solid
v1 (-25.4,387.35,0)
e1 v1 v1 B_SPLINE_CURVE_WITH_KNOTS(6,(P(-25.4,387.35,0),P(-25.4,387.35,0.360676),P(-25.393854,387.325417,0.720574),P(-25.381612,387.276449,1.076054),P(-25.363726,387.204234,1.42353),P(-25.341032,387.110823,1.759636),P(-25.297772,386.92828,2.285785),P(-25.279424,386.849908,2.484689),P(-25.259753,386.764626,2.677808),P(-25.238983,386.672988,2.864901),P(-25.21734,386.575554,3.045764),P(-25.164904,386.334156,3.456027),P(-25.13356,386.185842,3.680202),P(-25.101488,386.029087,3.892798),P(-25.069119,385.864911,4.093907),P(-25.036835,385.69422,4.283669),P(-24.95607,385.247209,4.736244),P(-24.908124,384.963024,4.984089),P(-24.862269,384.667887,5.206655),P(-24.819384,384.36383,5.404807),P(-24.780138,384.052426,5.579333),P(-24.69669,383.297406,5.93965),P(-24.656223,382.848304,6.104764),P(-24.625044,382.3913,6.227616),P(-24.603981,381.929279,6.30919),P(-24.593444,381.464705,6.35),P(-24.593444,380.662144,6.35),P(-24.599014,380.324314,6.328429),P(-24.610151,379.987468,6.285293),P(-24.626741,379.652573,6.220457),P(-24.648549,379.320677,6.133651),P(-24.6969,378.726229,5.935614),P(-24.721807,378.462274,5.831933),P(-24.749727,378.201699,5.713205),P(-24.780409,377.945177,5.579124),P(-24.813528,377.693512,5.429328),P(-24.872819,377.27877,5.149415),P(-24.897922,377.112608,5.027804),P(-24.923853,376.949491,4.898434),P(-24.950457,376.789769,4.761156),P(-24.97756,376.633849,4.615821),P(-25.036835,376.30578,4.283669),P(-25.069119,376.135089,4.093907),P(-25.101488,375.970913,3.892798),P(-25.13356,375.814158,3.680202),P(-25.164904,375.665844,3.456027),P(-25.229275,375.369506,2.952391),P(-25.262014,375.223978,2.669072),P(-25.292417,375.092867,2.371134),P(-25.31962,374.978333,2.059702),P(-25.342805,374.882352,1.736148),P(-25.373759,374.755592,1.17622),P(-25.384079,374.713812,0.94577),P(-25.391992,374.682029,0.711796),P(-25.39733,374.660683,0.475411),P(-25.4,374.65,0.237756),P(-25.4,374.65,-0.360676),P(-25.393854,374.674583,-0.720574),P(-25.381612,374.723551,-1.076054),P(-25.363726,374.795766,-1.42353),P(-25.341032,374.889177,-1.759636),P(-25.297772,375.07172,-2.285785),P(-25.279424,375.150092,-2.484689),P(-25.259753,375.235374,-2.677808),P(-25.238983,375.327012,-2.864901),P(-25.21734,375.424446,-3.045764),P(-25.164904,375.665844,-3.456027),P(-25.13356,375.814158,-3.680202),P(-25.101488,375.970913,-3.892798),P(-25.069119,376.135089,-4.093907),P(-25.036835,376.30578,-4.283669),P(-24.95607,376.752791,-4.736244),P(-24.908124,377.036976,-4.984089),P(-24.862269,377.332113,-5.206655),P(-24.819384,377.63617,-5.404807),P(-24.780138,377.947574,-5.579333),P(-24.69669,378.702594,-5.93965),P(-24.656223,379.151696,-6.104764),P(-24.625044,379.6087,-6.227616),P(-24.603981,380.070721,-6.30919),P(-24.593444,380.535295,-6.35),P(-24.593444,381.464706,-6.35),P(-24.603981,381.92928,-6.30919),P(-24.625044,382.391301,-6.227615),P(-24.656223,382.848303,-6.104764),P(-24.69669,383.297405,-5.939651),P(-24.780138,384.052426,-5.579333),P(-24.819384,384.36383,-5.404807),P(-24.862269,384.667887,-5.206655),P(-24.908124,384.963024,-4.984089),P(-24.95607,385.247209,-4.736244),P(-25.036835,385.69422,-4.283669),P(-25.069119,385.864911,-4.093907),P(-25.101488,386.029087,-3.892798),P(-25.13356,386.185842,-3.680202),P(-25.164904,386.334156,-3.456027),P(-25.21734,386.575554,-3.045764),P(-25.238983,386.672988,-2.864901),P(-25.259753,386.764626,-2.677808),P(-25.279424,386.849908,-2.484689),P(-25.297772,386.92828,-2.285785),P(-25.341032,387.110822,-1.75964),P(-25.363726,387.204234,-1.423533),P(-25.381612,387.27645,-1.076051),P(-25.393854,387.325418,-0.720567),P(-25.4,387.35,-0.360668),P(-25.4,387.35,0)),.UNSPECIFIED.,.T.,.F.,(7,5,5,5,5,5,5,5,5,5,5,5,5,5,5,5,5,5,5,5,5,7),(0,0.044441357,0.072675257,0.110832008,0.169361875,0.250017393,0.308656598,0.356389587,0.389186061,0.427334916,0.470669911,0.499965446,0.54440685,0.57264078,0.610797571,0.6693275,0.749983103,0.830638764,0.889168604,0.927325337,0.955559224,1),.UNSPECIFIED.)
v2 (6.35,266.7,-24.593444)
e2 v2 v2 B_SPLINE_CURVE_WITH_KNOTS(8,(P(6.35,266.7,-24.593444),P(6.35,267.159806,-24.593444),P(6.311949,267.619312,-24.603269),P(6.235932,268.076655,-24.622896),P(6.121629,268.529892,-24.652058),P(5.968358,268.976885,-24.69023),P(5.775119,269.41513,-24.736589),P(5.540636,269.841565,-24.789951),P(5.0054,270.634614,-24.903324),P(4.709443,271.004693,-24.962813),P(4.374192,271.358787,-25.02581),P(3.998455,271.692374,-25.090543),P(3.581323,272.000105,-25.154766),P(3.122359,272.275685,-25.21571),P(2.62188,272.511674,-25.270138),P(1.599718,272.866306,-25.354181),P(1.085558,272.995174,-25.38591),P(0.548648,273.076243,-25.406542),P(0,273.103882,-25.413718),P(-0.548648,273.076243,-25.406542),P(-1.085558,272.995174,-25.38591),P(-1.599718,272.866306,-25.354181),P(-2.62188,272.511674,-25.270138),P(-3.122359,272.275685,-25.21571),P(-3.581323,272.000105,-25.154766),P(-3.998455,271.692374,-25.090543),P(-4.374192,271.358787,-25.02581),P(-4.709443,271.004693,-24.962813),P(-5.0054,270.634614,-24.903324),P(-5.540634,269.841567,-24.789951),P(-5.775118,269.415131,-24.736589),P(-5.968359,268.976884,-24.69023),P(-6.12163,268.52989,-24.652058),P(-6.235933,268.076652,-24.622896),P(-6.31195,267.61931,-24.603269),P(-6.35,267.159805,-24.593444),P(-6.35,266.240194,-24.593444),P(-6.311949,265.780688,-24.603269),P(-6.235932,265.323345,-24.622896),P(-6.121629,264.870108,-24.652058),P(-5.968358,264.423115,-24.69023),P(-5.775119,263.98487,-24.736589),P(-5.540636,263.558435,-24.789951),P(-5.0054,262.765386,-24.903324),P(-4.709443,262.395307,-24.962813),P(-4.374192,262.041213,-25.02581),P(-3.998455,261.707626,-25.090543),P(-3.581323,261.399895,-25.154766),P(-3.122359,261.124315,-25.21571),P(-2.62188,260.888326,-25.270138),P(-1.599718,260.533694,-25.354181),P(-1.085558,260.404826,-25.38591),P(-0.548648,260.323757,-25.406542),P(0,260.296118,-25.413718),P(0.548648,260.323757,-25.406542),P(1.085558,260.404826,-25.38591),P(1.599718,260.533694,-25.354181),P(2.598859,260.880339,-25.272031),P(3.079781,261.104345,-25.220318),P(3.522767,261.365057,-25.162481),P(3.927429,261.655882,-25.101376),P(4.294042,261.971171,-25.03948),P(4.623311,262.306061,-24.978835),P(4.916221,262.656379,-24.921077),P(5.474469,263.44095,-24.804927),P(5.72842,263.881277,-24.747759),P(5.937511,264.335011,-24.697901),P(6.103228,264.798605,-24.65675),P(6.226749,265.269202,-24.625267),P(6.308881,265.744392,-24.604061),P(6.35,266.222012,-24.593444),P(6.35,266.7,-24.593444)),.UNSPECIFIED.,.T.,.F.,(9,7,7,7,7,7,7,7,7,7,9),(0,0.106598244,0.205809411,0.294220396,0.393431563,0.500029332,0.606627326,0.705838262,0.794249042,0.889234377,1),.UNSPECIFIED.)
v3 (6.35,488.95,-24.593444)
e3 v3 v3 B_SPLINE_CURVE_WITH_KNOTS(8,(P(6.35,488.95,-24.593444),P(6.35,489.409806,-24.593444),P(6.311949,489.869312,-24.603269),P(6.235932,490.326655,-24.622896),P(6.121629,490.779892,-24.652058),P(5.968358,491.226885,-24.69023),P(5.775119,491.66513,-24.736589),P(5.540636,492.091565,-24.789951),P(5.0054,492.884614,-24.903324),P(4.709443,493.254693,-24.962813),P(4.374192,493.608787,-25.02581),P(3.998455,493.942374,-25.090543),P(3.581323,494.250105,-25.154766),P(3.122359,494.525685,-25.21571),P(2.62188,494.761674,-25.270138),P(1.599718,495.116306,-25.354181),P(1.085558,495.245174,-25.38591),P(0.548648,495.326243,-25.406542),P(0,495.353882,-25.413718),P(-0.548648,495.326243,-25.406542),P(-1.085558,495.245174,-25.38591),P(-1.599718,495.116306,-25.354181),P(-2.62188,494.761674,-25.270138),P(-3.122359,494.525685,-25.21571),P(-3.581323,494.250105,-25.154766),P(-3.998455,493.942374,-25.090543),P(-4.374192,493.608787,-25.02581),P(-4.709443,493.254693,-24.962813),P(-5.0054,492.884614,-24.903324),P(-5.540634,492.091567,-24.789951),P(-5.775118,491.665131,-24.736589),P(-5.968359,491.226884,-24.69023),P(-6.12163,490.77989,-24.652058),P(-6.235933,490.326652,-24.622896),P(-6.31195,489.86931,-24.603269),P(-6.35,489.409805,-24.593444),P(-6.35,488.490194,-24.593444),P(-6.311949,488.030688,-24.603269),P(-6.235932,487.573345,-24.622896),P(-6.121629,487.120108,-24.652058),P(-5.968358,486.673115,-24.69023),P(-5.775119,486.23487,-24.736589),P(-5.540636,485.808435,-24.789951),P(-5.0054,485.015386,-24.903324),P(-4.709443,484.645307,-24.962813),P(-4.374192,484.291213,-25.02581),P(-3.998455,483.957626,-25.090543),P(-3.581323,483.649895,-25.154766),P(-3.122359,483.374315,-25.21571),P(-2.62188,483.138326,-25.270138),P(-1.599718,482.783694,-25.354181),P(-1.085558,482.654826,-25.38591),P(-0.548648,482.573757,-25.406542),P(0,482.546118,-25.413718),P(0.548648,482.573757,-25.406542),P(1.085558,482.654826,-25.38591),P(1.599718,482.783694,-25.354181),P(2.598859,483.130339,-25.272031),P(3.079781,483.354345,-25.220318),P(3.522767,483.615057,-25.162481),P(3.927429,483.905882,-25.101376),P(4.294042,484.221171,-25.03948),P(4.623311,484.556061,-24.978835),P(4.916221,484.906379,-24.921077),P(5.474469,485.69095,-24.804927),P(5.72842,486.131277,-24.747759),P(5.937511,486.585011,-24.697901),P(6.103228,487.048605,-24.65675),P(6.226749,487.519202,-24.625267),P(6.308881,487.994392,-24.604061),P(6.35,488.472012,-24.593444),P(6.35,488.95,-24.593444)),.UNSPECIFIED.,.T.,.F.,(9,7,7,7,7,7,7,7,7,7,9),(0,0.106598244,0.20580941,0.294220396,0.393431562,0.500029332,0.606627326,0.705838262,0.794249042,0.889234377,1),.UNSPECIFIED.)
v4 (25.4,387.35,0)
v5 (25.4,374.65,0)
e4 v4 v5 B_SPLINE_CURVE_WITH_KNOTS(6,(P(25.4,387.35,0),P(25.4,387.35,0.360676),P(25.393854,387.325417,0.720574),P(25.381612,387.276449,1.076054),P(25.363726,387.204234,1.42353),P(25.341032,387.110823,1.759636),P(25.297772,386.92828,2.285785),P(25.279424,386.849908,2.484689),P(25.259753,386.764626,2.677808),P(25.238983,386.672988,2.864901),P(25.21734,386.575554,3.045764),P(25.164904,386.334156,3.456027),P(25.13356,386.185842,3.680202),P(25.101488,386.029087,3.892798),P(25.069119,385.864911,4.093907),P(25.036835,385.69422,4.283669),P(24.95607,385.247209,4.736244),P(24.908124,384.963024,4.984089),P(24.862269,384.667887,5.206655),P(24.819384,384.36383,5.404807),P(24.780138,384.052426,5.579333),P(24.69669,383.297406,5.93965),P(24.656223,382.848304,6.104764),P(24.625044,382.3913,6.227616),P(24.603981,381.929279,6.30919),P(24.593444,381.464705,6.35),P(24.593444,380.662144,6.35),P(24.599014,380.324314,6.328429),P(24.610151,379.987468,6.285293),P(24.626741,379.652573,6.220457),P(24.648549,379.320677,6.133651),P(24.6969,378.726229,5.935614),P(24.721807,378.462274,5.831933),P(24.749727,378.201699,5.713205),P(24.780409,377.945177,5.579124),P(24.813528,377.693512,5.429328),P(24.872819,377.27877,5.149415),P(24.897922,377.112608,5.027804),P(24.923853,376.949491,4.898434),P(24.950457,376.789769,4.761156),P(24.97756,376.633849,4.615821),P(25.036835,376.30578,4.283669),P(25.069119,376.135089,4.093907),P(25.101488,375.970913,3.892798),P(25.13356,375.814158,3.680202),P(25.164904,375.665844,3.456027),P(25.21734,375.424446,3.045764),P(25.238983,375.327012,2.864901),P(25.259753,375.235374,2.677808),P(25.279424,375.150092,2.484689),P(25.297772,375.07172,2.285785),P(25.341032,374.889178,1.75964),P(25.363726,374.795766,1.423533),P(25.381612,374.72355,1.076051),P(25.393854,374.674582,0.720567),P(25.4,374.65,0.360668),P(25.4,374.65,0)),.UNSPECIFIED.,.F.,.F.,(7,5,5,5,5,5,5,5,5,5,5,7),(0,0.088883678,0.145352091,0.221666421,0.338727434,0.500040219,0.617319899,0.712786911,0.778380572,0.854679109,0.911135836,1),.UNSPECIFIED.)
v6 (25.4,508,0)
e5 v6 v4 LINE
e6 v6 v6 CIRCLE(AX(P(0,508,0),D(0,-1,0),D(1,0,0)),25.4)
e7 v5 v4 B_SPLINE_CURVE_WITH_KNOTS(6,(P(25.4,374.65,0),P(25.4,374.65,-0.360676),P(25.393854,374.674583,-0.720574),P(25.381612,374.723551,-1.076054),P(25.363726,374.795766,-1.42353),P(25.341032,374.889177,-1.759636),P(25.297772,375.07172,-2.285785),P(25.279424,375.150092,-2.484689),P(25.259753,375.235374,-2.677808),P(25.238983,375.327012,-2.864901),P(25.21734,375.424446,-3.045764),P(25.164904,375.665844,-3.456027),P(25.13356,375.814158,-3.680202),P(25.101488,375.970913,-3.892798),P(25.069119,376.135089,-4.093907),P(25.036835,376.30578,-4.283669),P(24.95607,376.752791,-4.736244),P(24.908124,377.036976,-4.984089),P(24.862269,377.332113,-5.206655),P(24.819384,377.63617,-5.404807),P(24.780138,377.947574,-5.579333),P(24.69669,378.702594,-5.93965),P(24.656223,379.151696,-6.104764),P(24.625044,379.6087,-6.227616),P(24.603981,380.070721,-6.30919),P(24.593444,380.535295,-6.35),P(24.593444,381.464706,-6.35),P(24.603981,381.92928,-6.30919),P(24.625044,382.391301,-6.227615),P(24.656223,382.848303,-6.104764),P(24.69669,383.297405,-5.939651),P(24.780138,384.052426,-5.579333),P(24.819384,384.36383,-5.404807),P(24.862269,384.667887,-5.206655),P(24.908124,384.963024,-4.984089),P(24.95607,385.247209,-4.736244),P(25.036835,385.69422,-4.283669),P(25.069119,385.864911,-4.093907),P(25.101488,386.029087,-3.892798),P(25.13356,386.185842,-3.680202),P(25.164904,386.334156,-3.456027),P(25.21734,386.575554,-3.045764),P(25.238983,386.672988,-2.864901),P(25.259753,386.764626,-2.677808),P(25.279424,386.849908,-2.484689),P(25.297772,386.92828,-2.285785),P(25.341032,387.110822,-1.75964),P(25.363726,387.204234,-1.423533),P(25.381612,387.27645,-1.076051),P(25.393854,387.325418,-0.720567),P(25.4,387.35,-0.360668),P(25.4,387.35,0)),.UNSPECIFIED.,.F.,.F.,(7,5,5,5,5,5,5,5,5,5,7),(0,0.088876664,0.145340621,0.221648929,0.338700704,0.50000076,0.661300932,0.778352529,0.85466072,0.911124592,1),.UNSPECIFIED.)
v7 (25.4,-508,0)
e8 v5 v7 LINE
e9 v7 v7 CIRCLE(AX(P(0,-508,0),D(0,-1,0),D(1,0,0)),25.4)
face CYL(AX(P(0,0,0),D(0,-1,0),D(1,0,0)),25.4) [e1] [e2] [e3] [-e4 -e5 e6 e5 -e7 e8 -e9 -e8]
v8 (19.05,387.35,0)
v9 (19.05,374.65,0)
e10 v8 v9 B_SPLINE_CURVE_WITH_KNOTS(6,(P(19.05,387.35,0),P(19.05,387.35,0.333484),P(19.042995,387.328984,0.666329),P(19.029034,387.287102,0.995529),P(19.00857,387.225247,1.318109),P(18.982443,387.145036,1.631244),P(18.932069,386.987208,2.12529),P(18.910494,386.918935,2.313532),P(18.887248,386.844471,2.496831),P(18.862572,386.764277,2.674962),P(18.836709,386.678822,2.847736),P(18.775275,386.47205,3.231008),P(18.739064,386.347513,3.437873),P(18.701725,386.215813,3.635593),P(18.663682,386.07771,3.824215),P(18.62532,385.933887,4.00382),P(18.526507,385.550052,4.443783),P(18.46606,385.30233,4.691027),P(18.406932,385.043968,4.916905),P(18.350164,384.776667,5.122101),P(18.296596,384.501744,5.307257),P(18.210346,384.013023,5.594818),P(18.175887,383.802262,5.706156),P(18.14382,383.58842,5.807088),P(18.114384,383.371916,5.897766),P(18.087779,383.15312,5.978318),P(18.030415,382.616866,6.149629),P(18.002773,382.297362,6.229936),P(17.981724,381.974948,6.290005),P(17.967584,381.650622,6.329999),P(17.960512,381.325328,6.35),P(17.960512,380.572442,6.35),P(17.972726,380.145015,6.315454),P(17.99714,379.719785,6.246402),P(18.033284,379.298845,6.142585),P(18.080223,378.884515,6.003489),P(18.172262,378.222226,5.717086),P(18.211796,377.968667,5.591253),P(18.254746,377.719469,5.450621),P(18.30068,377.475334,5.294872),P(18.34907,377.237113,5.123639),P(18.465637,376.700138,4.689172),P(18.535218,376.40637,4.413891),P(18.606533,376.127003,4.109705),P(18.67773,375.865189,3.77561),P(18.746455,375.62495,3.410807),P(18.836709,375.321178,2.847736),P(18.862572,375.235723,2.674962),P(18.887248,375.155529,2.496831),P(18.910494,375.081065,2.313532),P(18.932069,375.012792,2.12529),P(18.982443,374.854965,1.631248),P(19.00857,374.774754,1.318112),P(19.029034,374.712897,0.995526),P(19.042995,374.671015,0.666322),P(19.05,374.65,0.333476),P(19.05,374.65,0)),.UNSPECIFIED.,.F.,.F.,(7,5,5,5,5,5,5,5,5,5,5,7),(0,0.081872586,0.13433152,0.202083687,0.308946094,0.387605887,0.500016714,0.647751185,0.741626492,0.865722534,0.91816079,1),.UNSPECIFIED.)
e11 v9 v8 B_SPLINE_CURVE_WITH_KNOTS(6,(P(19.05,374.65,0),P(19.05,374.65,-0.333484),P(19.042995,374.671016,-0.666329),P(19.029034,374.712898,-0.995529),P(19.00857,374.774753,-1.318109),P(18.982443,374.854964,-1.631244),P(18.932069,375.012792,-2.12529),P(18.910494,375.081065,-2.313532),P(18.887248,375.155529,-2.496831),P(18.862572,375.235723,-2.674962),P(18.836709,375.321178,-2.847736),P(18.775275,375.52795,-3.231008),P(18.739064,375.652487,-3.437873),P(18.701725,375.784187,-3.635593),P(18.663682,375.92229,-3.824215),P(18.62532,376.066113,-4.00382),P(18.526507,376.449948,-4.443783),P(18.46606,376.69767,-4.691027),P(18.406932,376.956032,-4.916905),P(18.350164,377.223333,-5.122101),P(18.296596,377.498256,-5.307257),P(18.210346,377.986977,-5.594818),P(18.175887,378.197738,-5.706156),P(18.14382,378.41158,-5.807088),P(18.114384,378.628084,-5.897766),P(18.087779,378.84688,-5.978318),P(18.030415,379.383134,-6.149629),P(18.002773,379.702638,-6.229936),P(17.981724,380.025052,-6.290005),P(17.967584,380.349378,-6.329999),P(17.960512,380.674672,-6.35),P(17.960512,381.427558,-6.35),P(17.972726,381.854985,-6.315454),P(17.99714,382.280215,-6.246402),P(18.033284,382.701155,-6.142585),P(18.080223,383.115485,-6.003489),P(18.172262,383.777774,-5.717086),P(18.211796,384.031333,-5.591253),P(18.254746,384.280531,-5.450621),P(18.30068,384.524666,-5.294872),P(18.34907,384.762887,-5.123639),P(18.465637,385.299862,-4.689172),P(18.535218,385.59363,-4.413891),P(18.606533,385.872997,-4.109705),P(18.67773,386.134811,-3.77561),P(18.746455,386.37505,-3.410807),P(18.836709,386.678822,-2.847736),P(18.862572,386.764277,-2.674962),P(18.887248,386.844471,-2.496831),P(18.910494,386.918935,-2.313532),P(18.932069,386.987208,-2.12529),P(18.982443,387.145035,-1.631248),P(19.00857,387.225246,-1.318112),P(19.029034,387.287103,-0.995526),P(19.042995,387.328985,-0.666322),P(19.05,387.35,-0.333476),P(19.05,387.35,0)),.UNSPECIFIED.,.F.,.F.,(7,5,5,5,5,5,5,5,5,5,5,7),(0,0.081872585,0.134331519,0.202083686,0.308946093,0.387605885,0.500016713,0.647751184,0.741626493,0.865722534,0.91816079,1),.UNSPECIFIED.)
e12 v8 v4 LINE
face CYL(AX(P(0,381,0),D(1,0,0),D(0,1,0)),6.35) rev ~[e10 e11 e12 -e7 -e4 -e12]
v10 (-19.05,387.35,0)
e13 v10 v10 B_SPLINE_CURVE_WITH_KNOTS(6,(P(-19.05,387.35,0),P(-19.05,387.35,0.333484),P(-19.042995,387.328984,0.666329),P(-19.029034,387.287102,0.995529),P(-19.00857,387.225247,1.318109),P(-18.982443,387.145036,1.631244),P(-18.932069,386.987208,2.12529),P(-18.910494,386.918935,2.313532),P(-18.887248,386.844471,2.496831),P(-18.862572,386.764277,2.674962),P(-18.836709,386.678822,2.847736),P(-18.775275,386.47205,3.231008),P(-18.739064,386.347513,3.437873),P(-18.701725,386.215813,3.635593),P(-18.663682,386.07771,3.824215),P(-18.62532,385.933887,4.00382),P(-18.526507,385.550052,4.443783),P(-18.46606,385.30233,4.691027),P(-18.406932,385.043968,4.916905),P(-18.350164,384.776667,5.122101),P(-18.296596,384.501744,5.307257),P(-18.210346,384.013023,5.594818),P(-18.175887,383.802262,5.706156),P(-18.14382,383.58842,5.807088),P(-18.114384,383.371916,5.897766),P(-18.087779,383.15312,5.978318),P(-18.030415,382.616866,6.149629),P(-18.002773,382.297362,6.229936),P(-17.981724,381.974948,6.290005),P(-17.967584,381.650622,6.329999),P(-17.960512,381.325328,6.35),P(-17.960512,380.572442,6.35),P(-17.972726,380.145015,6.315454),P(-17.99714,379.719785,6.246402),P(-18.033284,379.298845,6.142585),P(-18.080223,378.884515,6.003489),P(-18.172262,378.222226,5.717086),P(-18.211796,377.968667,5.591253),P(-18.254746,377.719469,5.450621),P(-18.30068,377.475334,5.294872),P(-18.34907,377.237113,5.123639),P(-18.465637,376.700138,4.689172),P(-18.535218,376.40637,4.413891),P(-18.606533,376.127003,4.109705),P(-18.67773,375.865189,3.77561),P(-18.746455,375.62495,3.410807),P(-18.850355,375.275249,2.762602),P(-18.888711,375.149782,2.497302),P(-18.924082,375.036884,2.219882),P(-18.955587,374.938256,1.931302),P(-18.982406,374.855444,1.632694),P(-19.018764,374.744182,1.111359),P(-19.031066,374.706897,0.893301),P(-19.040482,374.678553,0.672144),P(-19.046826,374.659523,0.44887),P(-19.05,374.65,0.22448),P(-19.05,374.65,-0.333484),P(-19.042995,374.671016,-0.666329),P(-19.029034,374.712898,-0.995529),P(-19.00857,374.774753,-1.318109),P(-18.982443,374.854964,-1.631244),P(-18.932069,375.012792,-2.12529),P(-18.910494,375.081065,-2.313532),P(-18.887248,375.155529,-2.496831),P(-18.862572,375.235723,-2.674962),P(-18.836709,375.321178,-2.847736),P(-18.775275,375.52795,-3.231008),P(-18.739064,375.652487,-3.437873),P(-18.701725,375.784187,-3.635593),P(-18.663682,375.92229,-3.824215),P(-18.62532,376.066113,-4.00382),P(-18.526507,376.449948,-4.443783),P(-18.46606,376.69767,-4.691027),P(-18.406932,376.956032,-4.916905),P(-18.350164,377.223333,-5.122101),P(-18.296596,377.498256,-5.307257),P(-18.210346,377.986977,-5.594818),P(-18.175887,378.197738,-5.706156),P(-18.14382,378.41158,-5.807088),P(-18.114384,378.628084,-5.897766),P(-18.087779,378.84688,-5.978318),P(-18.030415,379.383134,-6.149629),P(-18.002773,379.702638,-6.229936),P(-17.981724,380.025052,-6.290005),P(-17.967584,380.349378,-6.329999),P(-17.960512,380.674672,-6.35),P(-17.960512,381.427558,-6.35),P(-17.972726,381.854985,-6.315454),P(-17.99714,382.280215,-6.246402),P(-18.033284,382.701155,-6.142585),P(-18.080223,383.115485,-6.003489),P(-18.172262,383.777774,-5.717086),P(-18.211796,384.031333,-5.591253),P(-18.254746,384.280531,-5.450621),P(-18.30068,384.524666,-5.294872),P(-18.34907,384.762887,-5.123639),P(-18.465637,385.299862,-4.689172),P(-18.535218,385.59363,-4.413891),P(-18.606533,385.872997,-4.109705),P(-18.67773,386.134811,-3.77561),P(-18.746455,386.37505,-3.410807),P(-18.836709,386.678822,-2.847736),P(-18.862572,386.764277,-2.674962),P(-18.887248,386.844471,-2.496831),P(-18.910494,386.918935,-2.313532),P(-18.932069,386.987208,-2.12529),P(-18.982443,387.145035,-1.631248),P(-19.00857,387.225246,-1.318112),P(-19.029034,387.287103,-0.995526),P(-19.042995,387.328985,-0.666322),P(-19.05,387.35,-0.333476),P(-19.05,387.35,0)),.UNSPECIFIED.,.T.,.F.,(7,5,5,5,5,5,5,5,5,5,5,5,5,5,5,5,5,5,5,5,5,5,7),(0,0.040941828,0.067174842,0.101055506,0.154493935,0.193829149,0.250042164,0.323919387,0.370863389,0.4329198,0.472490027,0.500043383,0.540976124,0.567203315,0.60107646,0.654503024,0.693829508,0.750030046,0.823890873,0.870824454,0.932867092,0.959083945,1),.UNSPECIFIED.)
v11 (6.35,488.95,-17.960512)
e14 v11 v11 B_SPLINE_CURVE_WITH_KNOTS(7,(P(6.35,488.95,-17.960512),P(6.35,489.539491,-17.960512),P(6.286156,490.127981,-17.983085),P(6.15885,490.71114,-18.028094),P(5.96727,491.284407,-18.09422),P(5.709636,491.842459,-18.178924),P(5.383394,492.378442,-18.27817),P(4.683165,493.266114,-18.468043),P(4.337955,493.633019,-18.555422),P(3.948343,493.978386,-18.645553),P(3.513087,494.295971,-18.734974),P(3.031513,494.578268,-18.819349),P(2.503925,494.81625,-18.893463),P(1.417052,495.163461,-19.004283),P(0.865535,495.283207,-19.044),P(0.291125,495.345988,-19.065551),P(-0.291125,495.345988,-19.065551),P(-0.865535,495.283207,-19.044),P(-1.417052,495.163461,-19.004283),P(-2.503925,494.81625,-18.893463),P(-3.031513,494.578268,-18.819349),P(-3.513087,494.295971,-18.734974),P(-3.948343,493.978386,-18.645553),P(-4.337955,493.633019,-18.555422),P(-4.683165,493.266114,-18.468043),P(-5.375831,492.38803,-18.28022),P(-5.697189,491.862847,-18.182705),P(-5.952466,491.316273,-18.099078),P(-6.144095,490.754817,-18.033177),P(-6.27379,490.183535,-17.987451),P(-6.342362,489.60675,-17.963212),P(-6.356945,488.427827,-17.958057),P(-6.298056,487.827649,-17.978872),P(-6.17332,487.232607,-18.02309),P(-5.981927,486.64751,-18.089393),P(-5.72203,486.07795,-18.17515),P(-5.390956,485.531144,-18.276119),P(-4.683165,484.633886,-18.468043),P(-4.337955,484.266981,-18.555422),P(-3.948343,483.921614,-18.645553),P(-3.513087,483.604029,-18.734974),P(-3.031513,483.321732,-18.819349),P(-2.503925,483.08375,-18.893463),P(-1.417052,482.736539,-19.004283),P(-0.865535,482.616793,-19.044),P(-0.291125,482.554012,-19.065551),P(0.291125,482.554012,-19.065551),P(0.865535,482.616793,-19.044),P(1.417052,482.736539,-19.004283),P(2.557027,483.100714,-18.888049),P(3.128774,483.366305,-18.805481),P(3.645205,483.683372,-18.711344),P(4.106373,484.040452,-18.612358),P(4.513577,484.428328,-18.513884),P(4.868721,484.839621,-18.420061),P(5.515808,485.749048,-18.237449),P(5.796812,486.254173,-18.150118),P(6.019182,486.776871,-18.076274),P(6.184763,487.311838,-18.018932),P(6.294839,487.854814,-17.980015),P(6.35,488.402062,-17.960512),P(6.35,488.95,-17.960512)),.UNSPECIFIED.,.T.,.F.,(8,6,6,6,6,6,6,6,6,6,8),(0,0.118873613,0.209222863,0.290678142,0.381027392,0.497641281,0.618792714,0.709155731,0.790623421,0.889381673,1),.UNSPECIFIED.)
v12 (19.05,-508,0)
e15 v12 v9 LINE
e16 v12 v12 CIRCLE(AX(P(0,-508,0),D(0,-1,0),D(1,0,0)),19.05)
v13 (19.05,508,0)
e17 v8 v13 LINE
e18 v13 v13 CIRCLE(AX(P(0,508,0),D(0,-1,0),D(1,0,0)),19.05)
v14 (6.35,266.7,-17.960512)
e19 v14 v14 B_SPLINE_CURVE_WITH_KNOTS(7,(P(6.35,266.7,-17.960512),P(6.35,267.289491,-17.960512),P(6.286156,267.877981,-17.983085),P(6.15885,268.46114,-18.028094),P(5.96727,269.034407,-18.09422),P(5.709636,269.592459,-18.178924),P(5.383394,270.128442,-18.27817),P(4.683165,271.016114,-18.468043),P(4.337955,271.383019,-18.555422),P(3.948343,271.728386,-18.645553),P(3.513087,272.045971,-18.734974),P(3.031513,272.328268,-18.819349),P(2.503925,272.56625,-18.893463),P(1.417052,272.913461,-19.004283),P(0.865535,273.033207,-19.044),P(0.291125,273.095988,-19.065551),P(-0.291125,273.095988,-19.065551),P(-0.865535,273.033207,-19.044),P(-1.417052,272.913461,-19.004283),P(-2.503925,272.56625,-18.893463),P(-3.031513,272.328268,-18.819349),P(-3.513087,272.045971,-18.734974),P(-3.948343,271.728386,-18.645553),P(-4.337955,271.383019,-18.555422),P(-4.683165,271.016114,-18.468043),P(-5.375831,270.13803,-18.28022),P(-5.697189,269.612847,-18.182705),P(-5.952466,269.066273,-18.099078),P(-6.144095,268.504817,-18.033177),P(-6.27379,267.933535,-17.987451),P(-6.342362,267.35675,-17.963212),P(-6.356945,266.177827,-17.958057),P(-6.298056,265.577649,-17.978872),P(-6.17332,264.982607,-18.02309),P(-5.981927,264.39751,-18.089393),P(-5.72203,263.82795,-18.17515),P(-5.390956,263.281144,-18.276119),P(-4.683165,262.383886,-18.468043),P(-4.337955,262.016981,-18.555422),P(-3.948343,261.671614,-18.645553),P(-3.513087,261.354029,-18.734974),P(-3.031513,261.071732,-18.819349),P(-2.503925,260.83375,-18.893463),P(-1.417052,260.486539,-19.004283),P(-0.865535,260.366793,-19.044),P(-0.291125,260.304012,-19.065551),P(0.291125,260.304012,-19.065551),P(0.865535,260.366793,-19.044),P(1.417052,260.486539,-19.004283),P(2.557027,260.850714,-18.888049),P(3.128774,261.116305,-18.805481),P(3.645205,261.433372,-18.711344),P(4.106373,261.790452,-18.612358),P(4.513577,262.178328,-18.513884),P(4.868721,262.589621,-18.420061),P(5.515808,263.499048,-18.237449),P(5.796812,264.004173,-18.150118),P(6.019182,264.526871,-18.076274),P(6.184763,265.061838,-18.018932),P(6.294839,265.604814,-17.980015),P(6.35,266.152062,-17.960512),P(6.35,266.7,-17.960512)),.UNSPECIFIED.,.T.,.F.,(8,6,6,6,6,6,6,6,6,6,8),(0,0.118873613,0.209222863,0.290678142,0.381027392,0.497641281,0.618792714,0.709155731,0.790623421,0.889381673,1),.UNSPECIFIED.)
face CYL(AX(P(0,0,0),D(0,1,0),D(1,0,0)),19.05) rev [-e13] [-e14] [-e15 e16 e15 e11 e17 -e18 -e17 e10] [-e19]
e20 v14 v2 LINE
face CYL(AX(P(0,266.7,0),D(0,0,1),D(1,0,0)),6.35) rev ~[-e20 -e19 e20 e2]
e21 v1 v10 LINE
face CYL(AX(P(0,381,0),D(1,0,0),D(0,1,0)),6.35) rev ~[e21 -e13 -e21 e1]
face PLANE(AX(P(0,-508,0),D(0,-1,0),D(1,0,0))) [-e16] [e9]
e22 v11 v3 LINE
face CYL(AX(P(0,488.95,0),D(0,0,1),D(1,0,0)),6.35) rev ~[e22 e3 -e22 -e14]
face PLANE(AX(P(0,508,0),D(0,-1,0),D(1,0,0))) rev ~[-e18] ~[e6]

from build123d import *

# Parameters (mm, degrees)
F0_R     = 25.4
F0_R_2   = 19.05
F1_DEPTH = 508
F4_R     = 6.35
F5_DEPTH = 25.4
F3_R     = 6.35
F6_DEPTH = 25.4


with BuildPart() as f1:
    # F0 (on Front) → F1 (new body, symmetric)
    with BuildSketch(Plane.XZ):
        Circle(F0_R)
        Circle(F0_R_2, mode=Mode.SUBTRACT)
    extrude(amount=F1_DEPTH, both=True)

    # F4 (on Top) → F5 (cut)
    with BuildSketch(Plane.XY):
        with Locations((0, 488.95)):
            Circle(F4_R)
        with Locations((0, 266.7)):
            Circle(F4_R)
    extrude(amount=-F5_DEPTH, mode=Mode.SUBTRACT)

    # F3 (on Right) → F6 (cut, symmetric)
    with BuildSketch(Plane.YZ):
        with Locations((381, 0)):
            Circle(F3_R)
    extrude(amount=F6_DEPTH, both=True, mode=Mode.SUBTRACT)


solid = f1.part
